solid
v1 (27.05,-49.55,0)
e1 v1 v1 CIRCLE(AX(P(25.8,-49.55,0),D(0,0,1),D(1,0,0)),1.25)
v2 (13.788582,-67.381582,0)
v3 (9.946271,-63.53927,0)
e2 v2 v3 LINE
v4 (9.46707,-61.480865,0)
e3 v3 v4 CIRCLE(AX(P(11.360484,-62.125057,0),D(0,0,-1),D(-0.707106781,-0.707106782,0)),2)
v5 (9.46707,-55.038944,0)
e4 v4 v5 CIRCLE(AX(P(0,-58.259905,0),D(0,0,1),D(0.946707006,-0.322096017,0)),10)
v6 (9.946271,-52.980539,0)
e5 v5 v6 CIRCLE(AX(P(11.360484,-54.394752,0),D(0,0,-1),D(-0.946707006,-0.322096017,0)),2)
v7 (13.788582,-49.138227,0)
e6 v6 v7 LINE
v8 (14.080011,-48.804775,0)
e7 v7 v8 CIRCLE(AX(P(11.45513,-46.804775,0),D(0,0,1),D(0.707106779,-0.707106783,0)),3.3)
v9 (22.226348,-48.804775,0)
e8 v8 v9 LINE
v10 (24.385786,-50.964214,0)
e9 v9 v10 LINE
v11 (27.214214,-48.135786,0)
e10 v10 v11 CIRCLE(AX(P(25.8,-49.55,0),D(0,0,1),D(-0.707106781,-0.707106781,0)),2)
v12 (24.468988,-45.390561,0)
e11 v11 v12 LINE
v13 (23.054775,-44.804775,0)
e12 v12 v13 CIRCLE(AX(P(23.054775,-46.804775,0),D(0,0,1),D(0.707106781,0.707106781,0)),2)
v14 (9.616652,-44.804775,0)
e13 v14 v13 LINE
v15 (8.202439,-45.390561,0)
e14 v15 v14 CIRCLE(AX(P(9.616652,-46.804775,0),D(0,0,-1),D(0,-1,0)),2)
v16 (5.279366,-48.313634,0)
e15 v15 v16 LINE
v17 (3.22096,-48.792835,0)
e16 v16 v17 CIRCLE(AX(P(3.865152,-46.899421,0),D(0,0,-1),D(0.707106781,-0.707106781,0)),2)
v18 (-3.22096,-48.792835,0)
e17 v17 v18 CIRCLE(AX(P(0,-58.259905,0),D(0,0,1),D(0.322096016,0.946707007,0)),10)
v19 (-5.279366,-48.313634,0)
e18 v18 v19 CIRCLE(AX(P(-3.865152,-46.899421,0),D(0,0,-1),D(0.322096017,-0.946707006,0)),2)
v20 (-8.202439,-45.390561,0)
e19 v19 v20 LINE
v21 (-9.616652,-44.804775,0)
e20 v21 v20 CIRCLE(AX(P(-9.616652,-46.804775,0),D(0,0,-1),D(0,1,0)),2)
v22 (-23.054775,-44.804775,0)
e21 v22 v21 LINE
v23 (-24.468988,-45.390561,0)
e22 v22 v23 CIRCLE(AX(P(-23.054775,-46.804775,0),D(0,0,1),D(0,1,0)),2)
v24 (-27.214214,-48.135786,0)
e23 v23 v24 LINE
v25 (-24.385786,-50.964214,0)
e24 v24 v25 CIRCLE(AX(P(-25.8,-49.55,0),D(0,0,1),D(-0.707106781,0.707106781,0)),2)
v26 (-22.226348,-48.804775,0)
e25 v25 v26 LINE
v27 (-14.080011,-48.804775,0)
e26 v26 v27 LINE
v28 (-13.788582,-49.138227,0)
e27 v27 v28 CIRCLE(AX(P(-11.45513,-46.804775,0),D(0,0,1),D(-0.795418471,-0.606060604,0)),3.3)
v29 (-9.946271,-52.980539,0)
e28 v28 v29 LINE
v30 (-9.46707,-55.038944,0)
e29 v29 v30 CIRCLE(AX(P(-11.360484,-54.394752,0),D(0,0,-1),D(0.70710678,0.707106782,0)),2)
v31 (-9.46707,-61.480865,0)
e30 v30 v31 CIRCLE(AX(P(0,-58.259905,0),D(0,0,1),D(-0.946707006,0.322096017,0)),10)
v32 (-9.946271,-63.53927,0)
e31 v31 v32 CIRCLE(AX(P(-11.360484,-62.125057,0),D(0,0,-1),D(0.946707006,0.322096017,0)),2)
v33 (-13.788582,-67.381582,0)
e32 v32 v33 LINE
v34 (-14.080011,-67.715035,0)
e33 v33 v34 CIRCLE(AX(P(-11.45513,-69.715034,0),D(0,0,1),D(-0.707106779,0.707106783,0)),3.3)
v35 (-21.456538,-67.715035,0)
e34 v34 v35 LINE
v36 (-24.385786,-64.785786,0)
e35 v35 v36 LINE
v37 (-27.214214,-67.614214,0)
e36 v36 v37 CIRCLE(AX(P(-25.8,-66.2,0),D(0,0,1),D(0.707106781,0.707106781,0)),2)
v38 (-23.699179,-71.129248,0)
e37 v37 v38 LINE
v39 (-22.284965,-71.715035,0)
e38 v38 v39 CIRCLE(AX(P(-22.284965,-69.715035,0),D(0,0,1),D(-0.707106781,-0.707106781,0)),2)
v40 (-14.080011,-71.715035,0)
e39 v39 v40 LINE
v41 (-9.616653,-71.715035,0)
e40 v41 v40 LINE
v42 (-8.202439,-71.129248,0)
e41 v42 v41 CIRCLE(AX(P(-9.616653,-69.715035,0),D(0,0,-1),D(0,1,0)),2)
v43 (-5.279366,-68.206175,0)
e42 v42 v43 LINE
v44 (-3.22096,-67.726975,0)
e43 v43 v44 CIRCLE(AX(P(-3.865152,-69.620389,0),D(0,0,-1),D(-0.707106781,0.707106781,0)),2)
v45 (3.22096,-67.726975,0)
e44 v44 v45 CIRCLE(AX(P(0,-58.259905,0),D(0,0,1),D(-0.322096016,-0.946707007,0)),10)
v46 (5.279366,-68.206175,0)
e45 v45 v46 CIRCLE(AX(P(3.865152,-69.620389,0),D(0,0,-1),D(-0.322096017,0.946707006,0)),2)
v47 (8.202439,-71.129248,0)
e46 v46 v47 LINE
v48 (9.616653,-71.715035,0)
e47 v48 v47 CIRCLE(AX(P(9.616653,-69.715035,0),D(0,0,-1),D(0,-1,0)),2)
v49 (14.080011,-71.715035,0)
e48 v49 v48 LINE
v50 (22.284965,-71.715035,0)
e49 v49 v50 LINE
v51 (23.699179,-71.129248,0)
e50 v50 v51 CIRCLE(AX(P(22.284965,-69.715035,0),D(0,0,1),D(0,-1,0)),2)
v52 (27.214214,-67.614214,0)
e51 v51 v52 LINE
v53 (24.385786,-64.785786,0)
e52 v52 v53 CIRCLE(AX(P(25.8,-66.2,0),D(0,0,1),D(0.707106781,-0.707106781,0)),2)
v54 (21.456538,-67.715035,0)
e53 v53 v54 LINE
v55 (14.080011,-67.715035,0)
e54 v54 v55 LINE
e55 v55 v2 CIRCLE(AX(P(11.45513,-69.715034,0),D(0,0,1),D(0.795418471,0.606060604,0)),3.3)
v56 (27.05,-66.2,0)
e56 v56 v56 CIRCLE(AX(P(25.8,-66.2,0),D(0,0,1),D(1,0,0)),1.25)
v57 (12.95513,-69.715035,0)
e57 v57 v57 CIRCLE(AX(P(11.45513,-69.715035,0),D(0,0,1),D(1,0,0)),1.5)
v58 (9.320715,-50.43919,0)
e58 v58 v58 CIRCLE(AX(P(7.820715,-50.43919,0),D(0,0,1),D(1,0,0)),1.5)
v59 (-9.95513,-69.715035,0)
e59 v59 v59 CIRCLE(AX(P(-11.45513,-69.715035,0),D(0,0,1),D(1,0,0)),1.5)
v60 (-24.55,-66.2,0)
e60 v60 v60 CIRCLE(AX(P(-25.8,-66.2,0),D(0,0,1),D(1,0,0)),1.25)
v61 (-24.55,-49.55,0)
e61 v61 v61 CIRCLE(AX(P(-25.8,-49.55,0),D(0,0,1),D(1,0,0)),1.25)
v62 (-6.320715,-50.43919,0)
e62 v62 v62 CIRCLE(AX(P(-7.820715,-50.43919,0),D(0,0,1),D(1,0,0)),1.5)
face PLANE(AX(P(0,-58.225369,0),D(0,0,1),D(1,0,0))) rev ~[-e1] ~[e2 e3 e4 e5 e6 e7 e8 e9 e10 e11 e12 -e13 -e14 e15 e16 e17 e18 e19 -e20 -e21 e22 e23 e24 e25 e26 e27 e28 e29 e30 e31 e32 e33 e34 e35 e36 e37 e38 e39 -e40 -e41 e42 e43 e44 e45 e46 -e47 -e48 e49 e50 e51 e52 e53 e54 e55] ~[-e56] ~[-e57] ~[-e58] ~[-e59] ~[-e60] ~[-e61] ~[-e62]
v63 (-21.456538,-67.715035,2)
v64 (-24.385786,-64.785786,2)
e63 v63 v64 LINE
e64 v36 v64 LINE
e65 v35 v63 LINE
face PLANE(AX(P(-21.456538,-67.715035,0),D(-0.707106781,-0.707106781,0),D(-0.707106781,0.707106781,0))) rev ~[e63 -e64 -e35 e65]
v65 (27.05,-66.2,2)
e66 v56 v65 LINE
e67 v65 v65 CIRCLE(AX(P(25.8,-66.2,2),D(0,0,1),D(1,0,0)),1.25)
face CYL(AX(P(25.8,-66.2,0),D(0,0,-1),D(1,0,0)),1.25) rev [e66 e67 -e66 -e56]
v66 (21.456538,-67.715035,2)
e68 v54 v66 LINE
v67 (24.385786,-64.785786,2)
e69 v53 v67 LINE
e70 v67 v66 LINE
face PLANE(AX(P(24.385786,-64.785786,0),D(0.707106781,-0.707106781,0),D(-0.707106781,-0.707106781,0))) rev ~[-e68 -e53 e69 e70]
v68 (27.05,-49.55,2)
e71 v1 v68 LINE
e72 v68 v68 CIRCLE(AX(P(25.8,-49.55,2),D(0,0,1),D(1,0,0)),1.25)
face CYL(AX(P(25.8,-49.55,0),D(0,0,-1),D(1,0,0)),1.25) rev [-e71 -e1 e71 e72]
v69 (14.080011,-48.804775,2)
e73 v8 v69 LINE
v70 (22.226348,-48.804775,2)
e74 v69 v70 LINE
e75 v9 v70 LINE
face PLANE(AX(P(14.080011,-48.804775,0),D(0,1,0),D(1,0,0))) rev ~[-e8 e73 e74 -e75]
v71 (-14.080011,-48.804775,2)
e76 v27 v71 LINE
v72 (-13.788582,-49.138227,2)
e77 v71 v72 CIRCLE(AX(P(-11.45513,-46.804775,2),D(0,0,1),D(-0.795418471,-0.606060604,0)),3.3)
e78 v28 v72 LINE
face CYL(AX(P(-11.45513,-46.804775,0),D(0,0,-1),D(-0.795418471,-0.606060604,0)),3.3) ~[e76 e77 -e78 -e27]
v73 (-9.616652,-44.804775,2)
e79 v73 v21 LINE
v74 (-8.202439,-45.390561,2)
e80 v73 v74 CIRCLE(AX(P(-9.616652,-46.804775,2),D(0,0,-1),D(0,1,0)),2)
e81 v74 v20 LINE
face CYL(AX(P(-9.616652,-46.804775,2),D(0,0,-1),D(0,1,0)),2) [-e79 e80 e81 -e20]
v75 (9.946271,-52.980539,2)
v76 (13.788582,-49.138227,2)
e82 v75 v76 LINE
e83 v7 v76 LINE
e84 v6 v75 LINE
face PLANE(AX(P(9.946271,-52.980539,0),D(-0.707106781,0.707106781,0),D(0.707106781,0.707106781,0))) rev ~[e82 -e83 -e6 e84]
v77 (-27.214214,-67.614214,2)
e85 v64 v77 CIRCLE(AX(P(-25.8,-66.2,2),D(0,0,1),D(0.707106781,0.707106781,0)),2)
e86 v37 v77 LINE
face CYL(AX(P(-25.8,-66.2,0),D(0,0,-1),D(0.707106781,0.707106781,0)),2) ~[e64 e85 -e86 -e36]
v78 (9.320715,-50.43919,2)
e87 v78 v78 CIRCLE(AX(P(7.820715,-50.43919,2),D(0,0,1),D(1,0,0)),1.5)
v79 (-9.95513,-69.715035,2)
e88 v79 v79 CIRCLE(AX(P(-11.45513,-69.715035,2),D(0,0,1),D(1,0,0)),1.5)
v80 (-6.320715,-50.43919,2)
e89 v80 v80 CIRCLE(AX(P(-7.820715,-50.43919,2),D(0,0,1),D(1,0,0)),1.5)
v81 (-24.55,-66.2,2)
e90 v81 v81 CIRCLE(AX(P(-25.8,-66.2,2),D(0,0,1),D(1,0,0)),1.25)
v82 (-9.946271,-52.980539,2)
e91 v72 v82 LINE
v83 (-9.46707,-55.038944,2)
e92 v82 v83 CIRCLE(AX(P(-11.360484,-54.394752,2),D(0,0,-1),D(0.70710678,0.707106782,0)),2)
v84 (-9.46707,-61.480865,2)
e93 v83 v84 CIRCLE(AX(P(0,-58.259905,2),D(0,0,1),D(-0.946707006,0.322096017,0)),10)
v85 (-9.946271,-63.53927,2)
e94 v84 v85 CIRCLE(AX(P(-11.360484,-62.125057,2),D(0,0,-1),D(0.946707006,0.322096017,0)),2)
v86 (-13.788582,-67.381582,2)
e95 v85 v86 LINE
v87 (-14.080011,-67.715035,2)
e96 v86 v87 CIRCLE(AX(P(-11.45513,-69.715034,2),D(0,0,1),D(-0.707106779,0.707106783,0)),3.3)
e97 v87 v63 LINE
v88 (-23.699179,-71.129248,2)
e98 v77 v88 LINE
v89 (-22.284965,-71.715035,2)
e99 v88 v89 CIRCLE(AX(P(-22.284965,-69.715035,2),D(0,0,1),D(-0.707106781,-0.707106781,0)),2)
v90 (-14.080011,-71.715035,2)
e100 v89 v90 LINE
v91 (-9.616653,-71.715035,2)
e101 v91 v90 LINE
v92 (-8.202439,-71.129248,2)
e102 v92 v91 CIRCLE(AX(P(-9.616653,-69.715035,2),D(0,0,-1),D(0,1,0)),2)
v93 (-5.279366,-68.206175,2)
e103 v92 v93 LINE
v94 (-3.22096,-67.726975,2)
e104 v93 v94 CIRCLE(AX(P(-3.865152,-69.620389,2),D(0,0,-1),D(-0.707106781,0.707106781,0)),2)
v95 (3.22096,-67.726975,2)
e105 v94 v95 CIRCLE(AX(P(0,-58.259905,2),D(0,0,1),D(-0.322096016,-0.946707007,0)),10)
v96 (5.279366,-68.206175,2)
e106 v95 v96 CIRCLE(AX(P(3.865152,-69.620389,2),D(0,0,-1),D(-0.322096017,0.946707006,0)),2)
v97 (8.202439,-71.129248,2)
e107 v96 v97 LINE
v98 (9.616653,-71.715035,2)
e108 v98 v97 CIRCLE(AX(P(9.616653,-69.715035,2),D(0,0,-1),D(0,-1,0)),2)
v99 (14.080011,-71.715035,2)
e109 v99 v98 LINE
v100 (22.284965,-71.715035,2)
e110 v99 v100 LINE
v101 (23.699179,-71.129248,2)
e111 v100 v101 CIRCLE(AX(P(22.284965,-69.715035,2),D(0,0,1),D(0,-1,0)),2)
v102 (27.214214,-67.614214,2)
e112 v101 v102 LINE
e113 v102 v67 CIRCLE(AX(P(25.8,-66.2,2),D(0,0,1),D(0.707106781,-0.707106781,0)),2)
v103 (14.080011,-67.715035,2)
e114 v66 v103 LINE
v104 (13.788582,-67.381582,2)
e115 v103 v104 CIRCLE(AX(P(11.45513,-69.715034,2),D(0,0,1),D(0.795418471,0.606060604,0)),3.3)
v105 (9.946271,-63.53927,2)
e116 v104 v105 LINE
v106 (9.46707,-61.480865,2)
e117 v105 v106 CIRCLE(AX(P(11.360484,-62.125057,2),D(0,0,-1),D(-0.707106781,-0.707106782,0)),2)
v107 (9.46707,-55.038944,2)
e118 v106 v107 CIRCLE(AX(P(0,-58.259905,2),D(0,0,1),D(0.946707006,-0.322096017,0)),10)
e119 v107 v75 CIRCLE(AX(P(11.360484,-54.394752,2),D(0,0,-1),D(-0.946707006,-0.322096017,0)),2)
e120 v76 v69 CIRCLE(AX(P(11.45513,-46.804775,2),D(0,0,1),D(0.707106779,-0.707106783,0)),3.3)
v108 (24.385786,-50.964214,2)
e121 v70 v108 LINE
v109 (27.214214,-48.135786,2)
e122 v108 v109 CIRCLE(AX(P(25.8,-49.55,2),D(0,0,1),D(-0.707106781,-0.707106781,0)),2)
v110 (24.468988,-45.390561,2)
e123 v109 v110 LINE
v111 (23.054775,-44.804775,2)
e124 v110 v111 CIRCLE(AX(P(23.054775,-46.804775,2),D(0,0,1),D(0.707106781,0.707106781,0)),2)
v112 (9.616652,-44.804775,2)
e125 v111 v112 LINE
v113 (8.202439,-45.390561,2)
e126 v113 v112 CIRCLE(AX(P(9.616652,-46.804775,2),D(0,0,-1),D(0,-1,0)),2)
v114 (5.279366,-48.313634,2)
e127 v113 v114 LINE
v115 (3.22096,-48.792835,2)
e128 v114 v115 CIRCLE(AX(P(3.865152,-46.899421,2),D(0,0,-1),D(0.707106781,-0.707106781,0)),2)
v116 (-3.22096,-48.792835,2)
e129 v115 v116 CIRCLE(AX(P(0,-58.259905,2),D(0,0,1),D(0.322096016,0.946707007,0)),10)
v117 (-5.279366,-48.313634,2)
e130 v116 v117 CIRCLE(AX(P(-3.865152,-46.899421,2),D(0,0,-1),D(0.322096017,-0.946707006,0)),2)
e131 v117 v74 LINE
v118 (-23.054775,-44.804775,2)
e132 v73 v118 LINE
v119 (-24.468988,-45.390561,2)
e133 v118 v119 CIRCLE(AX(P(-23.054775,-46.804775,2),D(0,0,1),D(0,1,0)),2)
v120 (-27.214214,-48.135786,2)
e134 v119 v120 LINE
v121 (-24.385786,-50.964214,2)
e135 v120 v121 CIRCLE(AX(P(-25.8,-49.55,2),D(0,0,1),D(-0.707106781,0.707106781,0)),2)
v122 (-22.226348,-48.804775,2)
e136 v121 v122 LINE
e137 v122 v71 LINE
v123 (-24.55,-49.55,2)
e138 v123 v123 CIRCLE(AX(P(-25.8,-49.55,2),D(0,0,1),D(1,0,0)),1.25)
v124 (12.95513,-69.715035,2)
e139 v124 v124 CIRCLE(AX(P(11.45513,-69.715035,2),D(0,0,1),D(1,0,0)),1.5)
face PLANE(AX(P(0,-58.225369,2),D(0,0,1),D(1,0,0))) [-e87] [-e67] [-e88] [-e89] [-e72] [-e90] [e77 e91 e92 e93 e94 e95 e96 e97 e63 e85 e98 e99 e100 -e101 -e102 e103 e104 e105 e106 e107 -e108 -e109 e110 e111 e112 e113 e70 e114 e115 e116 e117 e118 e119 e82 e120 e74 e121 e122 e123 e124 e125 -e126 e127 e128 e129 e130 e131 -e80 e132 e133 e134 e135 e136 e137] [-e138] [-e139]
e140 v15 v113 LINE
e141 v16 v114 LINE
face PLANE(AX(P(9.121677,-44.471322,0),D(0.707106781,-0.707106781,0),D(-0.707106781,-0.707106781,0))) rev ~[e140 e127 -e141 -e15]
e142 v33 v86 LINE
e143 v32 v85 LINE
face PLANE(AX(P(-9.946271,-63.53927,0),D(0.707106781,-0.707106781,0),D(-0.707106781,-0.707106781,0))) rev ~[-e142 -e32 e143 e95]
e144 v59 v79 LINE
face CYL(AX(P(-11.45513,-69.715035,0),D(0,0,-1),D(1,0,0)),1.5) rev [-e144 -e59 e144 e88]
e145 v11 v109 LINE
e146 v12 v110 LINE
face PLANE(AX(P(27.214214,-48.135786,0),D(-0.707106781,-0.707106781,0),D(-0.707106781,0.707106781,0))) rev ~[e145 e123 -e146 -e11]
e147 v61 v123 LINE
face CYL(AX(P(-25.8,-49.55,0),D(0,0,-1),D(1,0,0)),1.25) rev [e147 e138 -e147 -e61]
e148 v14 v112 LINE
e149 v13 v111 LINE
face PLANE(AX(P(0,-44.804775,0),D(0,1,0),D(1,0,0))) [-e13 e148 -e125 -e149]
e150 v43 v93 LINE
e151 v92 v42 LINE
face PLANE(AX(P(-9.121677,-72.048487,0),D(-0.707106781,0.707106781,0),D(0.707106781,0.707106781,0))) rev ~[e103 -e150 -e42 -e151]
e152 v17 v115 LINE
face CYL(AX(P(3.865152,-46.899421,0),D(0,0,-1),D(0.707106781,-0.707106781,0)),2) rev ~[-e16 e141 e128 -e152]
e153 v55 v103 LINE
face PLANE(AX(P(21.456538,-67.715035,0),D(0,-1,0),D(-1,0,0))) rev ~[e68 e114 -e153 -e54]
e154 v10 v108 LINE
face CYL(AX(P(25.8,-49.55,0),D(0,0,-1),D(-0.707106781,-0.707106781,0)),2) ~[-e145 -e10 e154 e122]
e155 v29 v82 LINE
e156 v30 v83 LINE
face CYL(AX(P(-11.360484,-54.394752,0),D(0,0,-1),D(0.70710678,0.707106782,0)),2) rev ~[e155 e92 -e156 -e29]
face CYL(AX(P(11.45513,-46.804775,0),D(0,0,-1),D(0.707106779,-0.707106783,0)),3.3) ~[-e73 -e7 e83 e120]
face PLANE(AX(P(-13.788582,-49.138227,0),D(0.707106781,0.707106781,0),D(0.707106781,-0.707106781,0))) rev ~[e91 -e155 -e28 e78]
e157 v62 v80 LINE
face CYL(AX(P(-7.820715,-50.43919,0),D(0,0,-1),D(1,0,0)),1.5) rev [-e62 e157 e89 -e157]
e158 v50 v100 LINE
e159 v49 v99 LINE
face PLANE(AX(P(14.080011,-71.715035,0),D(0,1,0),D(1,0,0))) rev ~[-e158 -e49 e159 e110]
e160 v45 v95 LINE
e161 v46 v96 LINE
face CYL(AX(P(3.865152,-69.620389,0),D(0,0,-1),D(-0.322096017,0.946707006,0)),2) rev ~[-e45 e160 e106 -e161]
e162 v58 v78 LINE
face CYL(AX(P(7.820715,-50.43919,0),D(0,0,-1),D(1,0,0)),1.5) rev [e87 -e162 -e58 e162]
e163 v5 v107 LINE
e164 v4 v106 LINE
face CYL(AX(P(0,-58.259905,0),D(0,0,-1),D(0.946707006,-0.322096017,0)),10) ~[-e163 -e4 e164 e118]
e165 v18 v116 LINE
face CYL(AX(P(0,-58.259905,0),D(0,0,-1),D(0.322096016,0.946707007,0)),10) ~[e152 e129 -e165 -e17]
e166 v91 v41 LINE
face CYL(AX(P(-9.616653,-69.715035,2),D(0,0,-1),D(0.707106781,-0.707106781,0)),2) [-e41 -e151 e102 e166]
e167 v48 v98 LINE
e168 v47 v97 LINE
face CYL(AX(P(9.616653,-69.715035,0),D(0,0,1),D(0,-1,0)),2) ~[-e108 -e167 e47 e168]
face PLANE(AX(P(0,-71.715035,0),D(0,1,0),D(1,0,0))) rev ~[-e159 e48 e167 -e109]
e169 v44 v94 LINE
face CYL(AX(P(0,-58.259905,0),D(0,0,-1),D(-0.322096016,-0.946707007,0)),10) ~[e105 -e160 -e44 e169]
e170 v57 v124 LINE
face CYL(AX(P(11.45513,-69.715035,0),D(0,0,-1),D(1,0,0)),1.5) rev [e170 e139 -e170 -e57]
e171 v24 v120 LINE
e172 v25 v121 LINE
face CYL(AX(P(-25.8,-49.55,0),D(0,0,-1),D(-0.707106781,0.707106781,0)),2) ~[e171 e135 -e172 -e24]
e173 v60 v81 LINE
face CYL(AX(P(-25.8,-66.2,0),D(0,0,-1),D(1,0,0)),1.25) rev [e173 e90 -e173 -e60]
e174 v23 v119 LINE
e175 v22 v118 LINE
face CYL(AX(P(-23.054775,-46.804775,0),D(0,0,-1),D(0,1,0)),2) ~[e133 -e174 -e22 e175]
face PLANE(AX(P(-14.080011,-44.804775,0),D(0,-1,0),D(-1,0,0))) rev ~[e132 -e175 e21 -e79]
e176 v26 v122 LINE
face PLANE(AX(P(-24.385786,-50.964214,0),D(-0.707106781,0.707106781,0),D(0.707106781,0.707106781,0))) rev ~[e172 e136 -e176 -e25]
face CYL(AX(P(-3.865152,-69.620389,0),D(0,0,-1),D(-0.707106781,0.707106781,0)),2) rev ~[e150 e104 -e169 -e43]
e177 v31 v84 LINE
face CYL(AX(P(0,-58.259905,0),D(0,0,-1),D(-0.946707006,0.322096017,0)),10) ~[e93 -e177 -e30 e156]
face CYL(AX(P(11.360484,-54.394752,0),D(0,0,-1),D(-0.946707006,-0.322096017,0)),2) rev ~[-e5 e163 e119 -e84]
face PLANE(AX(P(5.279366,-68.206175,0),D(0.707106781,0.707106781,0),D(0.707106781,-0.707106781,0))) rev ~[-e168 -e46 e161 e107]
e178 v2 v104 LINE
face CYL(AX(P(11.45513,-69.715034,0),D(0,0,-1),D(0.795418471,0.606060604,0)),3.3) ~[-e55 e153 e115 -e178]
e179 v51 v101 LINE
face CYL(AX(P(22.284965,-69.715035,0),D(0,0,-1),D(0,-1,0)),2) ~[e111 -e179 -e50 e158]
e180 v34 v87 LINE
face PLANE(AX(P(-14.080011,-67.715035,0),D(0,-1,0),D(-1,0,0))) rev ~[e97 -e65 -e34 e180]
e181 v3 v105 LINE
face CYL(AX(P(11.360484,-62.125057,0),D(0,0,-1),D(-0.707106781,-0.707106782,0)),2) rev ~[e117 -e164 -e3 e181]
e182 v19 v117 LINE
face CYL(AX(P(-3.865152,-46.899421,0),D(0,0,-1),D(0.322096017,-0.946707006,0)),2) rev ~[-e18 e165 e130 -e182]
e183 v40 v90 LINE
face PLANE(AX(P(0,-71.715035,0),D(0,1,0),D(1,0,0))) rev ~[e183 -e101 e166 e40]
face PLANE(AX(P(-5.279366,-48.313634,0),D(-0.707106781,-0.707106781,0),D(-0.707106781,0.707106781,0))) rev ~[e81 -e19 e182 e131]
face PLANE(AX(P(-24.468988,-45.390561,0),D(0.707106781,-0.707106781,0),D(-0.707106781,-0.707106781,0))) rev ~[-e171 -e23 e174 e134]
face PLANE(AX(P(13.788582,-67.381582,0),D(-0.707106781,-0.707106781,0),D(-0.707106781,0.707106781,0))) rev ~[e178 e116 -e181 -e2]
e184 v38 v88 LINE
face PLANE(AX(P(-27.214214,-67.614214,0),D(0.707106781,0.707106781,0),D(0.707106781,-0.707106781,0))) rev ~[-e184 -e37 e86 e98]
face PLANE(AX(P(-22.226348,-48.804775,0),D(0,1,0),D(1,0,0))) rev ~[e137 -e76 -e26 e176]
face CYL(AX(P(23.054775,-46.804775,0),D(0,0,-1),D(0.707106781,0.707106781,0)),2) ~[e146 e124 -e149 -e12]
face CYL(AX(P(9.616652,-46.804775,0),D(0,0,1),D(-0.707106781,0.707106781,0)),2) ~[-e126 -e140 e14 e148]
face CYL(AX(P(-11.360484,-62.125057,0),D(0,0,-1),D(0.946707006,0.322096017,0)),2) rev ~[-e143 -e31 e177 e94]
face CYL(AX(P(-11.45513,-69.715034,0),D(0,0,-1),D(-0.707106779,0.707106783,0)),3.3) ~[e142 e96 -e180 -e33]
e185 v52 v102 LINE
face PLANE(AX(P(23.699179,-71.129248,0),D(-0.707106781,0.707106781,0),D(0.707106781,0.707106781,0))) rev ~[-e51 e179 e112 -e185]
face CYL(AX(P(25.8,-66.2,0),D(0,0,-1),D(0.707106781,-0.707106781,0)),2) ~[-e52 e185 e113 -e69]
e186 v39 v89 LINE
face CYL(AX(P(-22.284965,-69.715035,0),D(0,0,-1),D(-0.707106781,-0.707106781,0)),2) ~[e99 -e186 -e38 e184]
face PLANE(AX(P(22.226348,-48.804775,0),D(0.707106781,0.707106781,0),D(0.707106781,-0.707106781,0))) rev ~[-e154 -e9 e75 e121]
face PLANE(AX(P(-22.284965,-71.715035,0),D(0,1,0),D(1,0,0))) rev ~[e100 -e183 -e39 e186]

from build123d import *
from build123d.topology import SkipClean

# Parameters (mm, degrees)
SKETCH1_R           = 1.5
SKETCH1_R_2         = 1.25
BOSS_EXTRUDE1_DEPTH = 2
SKETCH2_W           = 50.695336344
SKETCH2_H           = 10.606019708
CUT_EXTRUDE1_DEPTH  = 40.656761755
CUT_EXTRUDE2_START  = -26.91026
SKETCH2_2_W         = 50.695336344
SKETCH2_2_H         = 10.606019708
CUT_EXTRUDE2_DEPTH  = 13.746501755
FILLET1_R           = 2


with BuildPart() as part:
    # Sketch1 → Boss-Extrude1 (new body)
    with BuildSketch(Plane.XY):
        with BuildLine():
            ThreePointArc((13.788582233, -49.138227177), (13.939896438, -48.976395169), (14.080010805, -48.804774799))
            Line((14.080010805, -48.804774799), (22.226347675, -48.804774799))
            Line((22.226347675, -48.804774799), (24.385786438, -50.964213562))
            ThreePointArc((24.385786438, -50.964213562), (27.214213562, -50.964213562), (27.214213562, -48.135786438))
            Line((27.214213562, -48.135786438), (24.468988362, -45.390561237))
            ThreePointArc((24.468988362, -45.390561237), (23.820141664, -44.957015734), (23.054774799, -44.804774799))
            Line((23.054774799, -44.804774799), (14.080010805, -44.804774799))
            ThreePointArc((14.080010805, -44.804774799), (11.676557666, -43.51221201), (9.121677477, -44.471322421))
            Line((9.121677477, -44.471322421), (5.27936576, -48.313634139))
            ThreePointArc((5.27936576, -48.313634139), (4.318629382, -48.847331879), (3.220960165, -48.792834589))
            ThreePointArc((3.220960165, -48.792834589), (0, -48.259904655), (-3.220960165, -48.792834589))
            ThreePointArc((-3.220960165, -48.792834589), (-4.318629382, -48.847331879), (-5.27936576, -48.313634139))
            Line((-5.27936576, -48.313634139), (-9.121677477, -44.471322421))
            ThreePointArc((-9.121677477, -44.471322421), (-11.676557666, -43.51221201), (-14.080010805, -44.804774799))
            Line((-14.080010805, -44.804774799), (-23.054774799, -44.804774799))
            ThreePointArc((-23.054774799, -44.804774799), (-23.820141664, -44.957015734), (-24.468988362, -45.390561237))
            Line((-24.468988362, -45.390561237), (-27.214213562, -48.135786438))
            ThreePointArc((-27.214213562, -48.135786438), (-27.214213562, -50.964213562), (-24.385786438, -50.964213562))
            Line((-24.385786438, -50.964213562), (-22.226347675, -48.804774799))
            Line((-22.226347675, -48.804774799), (-14.080010805, -48.804774799))
            ThreePointArc((-14.080010805, -48.804774799), (-13.939896438, -48.976395169), (-13.788582233, -49.138227177))
            Line((-13.788582233, -49.138227177), (-9.946270516, -52.980538895))
            ThreePointArc((-9.946270516, -52.980538895), (-9.412572775, -53.941275272), (-9.467070065, -55.03894449))
            ThreePointArc((-9.467070065, -55.03894449), (-10, -58.259904655), (-9.467070065, -61.480864819))
            ThreePointArc((-9.467070065, -61.480864819), (-9.412572775, -62.578534037), (-9.946270516, -63.539270415))
            Line((-9.946270516, -63.539270415), (-13.788582233, -67.381582132))
            ThreePointArc((-13.788582233, -67.381582132), (-13.939896438, -67.54341414), (-14.080010805, -67.71503451))
            Line((-14.080010805, -67.71503451), (-21.456538365, -67.71503451))
            Line((-21.456538365, -67.71503451), (-24.385786438, -64.785786438))
            ThreePointArc((-24.385786438, -64.785786438), (-27.214213562, -64.785786438), (-27.214213562, -67.614213562))
            Line((-27.214213562, -67.614213562), (-23.699179053, -71.129248072))
            ThreePointArc((-23.699179053, -71.129248072), (-23.050332355, -71.562793575), (-22.28496549, -71.71503451))
            Line((-22.28496549, -71.71503451), (-14.080010805, -71.71503451))
            ThreePointArc((-14.080010805, -71.71503451), (-11.676557666, -73.0075973), (-9.121677477, -72.048486888))
            Line((-9.121677477, -72.048486888), (-5.27936576, -68.20617517))
            ThreePointArc((-5.27936576, -68.20617517), (-4.318629382, -67.67247743), (-3.220960165, -67.72697472))
            ThreePointArc((-3.220960165, -67.72697472), (0, -68.259904655), (3.220960165, -67.72697472))
            ThreePointArc((3.220960165, -67.72697472), (4.318629382, -67.67247743), (5.27936576, -68.20617517))
            Line((5.27936576, -68.20617517), (9.121677477, -72.048486888))
            ThreePointArc((9.121677477, -72.048486888), (11.676557666, -73.0075973), (14.080010805, -71.71503451))
            Line((14.080010805, -71.71503451), (22.28496549, -71.71503451))
            ThreePointArc((22.28496549, -71.71503451), (23.050332355, -71.562793575), (23.699179053, -71.129248072))
            Line((23.699179053, -71.129248072), (27.214213562, -67.614213562))
            ThreePointArc((27.214213562, -67.614213562), (27.214213562, -64.785786438), (24.385786438, -64.785786438))
            Line((24.385786438, -64.785786438), (21.456538365, -67.71503451))
            Line((21.456538365, -67.71503451), (14.080010805, -67.71503451))
            ThreePointArc((14.080010805, -67.71503451), (13.939896438, -67.54341414), (13.788582233, -67.381582132))
            Line((13.788582233, -67.381582132), (9.946270516, -63.539270415))
            ThreePointArc((9.946270516, -63.539270415), (9.412572775, -62.578534037), (9.467070065, -61.480864819))
            ThreePointArc((9.467070065, -61.480864819), (10, -58.259904655), (9.467070065, -55.03894449))
            ThreePointArc((9.467070065, -55.03894449), (9.412572775, -53.941275272), (9.946270516, -52.980538895))
            Line((9.946270516, -52.980538895), (13.788582233, -49.138227177))
        make_face()
        with Locations((-7.820715031, -50.439189624)):
            Circle(SKETCH1_R, mode=Mode.SUBTRACT)
        with Locations((7.820715031, -50.439189624)):
            Circle(SKETCH1_R, mode=Mode.SUBTRACT)
        with Locations((25.8, -49.55)):
            Circle(SKETCH1_R_2, mode=Mode.SUBTRACT)
        with Locations((11.455129855, -69.71503451)):
            Circle(SKETCH1_R, mode=Mode.SUBTRACT)
        with Locations((-25.8, -49.55)):
            Circle(SKETCH1_R_2, mode=Mode.SUBTRACT)
        with Locations((25.8, -66.2)):
            Circle(SKETCH1_R_2, mode=Mode.SUBTRACT)
        with Locations((-11.455129855, -69.71503451)):
            Circle(SKETCH1_R, mode=Mode.SUBTRACT)
        with Locations((-25.8, -66.2)):
            Circle(SKETCH1_R_2, mode=Mode.SUBTRACT)
    extrude(amount=BOSS_EXTRUDE1_DEPTH)

    # Sketch2 → Cut-Extrude1 (cut, through all)
    with BuildSketch(Plane(origin=(0, -44.804774799, 0), x_dir=(1, 0, 0), z_dir=(0, 1, 0))):
        Rectangle(SKETCH2_W, SKETCH2_H)
    extrude(amount=CUT_EXTRUDE1_DEPTH, mode=Mode.SUBTRACT)

    # Sketch2<2> → Cut-Extrude2 (cut, through all)
    with SkipClean():  # the faces are left unmerged after this step: merging them gives an invalid solid
        with BuildSketch(Plane(origin=(0, -44.804774799, 0), x_dir=(1, 0, 0), z_dir=(0, 1, 0)).offset(CUT_EXTRUDE2_START)):
            Rectangle(SKETCH2_2_W, SKETCH2_2_H)
        extrude(amount=-CUT_EXTRUDE2_DEPTH, mode=Mode.SUBTRACT)

    # Fillet1
    fillet1_edges = [part.edges().sort_by_distance(p)[0] for p in [
        (-8.788225099, -44.804774799, 1),
        (8.788225099, -44.804774799, 1),
        (8.788225389, -71.715034799, 1),
        (-8.788225389, -71.715034799, 1),
    ]]
    fillet(fillet1_edges, radius=FILLET1_R)


solid = part.part
